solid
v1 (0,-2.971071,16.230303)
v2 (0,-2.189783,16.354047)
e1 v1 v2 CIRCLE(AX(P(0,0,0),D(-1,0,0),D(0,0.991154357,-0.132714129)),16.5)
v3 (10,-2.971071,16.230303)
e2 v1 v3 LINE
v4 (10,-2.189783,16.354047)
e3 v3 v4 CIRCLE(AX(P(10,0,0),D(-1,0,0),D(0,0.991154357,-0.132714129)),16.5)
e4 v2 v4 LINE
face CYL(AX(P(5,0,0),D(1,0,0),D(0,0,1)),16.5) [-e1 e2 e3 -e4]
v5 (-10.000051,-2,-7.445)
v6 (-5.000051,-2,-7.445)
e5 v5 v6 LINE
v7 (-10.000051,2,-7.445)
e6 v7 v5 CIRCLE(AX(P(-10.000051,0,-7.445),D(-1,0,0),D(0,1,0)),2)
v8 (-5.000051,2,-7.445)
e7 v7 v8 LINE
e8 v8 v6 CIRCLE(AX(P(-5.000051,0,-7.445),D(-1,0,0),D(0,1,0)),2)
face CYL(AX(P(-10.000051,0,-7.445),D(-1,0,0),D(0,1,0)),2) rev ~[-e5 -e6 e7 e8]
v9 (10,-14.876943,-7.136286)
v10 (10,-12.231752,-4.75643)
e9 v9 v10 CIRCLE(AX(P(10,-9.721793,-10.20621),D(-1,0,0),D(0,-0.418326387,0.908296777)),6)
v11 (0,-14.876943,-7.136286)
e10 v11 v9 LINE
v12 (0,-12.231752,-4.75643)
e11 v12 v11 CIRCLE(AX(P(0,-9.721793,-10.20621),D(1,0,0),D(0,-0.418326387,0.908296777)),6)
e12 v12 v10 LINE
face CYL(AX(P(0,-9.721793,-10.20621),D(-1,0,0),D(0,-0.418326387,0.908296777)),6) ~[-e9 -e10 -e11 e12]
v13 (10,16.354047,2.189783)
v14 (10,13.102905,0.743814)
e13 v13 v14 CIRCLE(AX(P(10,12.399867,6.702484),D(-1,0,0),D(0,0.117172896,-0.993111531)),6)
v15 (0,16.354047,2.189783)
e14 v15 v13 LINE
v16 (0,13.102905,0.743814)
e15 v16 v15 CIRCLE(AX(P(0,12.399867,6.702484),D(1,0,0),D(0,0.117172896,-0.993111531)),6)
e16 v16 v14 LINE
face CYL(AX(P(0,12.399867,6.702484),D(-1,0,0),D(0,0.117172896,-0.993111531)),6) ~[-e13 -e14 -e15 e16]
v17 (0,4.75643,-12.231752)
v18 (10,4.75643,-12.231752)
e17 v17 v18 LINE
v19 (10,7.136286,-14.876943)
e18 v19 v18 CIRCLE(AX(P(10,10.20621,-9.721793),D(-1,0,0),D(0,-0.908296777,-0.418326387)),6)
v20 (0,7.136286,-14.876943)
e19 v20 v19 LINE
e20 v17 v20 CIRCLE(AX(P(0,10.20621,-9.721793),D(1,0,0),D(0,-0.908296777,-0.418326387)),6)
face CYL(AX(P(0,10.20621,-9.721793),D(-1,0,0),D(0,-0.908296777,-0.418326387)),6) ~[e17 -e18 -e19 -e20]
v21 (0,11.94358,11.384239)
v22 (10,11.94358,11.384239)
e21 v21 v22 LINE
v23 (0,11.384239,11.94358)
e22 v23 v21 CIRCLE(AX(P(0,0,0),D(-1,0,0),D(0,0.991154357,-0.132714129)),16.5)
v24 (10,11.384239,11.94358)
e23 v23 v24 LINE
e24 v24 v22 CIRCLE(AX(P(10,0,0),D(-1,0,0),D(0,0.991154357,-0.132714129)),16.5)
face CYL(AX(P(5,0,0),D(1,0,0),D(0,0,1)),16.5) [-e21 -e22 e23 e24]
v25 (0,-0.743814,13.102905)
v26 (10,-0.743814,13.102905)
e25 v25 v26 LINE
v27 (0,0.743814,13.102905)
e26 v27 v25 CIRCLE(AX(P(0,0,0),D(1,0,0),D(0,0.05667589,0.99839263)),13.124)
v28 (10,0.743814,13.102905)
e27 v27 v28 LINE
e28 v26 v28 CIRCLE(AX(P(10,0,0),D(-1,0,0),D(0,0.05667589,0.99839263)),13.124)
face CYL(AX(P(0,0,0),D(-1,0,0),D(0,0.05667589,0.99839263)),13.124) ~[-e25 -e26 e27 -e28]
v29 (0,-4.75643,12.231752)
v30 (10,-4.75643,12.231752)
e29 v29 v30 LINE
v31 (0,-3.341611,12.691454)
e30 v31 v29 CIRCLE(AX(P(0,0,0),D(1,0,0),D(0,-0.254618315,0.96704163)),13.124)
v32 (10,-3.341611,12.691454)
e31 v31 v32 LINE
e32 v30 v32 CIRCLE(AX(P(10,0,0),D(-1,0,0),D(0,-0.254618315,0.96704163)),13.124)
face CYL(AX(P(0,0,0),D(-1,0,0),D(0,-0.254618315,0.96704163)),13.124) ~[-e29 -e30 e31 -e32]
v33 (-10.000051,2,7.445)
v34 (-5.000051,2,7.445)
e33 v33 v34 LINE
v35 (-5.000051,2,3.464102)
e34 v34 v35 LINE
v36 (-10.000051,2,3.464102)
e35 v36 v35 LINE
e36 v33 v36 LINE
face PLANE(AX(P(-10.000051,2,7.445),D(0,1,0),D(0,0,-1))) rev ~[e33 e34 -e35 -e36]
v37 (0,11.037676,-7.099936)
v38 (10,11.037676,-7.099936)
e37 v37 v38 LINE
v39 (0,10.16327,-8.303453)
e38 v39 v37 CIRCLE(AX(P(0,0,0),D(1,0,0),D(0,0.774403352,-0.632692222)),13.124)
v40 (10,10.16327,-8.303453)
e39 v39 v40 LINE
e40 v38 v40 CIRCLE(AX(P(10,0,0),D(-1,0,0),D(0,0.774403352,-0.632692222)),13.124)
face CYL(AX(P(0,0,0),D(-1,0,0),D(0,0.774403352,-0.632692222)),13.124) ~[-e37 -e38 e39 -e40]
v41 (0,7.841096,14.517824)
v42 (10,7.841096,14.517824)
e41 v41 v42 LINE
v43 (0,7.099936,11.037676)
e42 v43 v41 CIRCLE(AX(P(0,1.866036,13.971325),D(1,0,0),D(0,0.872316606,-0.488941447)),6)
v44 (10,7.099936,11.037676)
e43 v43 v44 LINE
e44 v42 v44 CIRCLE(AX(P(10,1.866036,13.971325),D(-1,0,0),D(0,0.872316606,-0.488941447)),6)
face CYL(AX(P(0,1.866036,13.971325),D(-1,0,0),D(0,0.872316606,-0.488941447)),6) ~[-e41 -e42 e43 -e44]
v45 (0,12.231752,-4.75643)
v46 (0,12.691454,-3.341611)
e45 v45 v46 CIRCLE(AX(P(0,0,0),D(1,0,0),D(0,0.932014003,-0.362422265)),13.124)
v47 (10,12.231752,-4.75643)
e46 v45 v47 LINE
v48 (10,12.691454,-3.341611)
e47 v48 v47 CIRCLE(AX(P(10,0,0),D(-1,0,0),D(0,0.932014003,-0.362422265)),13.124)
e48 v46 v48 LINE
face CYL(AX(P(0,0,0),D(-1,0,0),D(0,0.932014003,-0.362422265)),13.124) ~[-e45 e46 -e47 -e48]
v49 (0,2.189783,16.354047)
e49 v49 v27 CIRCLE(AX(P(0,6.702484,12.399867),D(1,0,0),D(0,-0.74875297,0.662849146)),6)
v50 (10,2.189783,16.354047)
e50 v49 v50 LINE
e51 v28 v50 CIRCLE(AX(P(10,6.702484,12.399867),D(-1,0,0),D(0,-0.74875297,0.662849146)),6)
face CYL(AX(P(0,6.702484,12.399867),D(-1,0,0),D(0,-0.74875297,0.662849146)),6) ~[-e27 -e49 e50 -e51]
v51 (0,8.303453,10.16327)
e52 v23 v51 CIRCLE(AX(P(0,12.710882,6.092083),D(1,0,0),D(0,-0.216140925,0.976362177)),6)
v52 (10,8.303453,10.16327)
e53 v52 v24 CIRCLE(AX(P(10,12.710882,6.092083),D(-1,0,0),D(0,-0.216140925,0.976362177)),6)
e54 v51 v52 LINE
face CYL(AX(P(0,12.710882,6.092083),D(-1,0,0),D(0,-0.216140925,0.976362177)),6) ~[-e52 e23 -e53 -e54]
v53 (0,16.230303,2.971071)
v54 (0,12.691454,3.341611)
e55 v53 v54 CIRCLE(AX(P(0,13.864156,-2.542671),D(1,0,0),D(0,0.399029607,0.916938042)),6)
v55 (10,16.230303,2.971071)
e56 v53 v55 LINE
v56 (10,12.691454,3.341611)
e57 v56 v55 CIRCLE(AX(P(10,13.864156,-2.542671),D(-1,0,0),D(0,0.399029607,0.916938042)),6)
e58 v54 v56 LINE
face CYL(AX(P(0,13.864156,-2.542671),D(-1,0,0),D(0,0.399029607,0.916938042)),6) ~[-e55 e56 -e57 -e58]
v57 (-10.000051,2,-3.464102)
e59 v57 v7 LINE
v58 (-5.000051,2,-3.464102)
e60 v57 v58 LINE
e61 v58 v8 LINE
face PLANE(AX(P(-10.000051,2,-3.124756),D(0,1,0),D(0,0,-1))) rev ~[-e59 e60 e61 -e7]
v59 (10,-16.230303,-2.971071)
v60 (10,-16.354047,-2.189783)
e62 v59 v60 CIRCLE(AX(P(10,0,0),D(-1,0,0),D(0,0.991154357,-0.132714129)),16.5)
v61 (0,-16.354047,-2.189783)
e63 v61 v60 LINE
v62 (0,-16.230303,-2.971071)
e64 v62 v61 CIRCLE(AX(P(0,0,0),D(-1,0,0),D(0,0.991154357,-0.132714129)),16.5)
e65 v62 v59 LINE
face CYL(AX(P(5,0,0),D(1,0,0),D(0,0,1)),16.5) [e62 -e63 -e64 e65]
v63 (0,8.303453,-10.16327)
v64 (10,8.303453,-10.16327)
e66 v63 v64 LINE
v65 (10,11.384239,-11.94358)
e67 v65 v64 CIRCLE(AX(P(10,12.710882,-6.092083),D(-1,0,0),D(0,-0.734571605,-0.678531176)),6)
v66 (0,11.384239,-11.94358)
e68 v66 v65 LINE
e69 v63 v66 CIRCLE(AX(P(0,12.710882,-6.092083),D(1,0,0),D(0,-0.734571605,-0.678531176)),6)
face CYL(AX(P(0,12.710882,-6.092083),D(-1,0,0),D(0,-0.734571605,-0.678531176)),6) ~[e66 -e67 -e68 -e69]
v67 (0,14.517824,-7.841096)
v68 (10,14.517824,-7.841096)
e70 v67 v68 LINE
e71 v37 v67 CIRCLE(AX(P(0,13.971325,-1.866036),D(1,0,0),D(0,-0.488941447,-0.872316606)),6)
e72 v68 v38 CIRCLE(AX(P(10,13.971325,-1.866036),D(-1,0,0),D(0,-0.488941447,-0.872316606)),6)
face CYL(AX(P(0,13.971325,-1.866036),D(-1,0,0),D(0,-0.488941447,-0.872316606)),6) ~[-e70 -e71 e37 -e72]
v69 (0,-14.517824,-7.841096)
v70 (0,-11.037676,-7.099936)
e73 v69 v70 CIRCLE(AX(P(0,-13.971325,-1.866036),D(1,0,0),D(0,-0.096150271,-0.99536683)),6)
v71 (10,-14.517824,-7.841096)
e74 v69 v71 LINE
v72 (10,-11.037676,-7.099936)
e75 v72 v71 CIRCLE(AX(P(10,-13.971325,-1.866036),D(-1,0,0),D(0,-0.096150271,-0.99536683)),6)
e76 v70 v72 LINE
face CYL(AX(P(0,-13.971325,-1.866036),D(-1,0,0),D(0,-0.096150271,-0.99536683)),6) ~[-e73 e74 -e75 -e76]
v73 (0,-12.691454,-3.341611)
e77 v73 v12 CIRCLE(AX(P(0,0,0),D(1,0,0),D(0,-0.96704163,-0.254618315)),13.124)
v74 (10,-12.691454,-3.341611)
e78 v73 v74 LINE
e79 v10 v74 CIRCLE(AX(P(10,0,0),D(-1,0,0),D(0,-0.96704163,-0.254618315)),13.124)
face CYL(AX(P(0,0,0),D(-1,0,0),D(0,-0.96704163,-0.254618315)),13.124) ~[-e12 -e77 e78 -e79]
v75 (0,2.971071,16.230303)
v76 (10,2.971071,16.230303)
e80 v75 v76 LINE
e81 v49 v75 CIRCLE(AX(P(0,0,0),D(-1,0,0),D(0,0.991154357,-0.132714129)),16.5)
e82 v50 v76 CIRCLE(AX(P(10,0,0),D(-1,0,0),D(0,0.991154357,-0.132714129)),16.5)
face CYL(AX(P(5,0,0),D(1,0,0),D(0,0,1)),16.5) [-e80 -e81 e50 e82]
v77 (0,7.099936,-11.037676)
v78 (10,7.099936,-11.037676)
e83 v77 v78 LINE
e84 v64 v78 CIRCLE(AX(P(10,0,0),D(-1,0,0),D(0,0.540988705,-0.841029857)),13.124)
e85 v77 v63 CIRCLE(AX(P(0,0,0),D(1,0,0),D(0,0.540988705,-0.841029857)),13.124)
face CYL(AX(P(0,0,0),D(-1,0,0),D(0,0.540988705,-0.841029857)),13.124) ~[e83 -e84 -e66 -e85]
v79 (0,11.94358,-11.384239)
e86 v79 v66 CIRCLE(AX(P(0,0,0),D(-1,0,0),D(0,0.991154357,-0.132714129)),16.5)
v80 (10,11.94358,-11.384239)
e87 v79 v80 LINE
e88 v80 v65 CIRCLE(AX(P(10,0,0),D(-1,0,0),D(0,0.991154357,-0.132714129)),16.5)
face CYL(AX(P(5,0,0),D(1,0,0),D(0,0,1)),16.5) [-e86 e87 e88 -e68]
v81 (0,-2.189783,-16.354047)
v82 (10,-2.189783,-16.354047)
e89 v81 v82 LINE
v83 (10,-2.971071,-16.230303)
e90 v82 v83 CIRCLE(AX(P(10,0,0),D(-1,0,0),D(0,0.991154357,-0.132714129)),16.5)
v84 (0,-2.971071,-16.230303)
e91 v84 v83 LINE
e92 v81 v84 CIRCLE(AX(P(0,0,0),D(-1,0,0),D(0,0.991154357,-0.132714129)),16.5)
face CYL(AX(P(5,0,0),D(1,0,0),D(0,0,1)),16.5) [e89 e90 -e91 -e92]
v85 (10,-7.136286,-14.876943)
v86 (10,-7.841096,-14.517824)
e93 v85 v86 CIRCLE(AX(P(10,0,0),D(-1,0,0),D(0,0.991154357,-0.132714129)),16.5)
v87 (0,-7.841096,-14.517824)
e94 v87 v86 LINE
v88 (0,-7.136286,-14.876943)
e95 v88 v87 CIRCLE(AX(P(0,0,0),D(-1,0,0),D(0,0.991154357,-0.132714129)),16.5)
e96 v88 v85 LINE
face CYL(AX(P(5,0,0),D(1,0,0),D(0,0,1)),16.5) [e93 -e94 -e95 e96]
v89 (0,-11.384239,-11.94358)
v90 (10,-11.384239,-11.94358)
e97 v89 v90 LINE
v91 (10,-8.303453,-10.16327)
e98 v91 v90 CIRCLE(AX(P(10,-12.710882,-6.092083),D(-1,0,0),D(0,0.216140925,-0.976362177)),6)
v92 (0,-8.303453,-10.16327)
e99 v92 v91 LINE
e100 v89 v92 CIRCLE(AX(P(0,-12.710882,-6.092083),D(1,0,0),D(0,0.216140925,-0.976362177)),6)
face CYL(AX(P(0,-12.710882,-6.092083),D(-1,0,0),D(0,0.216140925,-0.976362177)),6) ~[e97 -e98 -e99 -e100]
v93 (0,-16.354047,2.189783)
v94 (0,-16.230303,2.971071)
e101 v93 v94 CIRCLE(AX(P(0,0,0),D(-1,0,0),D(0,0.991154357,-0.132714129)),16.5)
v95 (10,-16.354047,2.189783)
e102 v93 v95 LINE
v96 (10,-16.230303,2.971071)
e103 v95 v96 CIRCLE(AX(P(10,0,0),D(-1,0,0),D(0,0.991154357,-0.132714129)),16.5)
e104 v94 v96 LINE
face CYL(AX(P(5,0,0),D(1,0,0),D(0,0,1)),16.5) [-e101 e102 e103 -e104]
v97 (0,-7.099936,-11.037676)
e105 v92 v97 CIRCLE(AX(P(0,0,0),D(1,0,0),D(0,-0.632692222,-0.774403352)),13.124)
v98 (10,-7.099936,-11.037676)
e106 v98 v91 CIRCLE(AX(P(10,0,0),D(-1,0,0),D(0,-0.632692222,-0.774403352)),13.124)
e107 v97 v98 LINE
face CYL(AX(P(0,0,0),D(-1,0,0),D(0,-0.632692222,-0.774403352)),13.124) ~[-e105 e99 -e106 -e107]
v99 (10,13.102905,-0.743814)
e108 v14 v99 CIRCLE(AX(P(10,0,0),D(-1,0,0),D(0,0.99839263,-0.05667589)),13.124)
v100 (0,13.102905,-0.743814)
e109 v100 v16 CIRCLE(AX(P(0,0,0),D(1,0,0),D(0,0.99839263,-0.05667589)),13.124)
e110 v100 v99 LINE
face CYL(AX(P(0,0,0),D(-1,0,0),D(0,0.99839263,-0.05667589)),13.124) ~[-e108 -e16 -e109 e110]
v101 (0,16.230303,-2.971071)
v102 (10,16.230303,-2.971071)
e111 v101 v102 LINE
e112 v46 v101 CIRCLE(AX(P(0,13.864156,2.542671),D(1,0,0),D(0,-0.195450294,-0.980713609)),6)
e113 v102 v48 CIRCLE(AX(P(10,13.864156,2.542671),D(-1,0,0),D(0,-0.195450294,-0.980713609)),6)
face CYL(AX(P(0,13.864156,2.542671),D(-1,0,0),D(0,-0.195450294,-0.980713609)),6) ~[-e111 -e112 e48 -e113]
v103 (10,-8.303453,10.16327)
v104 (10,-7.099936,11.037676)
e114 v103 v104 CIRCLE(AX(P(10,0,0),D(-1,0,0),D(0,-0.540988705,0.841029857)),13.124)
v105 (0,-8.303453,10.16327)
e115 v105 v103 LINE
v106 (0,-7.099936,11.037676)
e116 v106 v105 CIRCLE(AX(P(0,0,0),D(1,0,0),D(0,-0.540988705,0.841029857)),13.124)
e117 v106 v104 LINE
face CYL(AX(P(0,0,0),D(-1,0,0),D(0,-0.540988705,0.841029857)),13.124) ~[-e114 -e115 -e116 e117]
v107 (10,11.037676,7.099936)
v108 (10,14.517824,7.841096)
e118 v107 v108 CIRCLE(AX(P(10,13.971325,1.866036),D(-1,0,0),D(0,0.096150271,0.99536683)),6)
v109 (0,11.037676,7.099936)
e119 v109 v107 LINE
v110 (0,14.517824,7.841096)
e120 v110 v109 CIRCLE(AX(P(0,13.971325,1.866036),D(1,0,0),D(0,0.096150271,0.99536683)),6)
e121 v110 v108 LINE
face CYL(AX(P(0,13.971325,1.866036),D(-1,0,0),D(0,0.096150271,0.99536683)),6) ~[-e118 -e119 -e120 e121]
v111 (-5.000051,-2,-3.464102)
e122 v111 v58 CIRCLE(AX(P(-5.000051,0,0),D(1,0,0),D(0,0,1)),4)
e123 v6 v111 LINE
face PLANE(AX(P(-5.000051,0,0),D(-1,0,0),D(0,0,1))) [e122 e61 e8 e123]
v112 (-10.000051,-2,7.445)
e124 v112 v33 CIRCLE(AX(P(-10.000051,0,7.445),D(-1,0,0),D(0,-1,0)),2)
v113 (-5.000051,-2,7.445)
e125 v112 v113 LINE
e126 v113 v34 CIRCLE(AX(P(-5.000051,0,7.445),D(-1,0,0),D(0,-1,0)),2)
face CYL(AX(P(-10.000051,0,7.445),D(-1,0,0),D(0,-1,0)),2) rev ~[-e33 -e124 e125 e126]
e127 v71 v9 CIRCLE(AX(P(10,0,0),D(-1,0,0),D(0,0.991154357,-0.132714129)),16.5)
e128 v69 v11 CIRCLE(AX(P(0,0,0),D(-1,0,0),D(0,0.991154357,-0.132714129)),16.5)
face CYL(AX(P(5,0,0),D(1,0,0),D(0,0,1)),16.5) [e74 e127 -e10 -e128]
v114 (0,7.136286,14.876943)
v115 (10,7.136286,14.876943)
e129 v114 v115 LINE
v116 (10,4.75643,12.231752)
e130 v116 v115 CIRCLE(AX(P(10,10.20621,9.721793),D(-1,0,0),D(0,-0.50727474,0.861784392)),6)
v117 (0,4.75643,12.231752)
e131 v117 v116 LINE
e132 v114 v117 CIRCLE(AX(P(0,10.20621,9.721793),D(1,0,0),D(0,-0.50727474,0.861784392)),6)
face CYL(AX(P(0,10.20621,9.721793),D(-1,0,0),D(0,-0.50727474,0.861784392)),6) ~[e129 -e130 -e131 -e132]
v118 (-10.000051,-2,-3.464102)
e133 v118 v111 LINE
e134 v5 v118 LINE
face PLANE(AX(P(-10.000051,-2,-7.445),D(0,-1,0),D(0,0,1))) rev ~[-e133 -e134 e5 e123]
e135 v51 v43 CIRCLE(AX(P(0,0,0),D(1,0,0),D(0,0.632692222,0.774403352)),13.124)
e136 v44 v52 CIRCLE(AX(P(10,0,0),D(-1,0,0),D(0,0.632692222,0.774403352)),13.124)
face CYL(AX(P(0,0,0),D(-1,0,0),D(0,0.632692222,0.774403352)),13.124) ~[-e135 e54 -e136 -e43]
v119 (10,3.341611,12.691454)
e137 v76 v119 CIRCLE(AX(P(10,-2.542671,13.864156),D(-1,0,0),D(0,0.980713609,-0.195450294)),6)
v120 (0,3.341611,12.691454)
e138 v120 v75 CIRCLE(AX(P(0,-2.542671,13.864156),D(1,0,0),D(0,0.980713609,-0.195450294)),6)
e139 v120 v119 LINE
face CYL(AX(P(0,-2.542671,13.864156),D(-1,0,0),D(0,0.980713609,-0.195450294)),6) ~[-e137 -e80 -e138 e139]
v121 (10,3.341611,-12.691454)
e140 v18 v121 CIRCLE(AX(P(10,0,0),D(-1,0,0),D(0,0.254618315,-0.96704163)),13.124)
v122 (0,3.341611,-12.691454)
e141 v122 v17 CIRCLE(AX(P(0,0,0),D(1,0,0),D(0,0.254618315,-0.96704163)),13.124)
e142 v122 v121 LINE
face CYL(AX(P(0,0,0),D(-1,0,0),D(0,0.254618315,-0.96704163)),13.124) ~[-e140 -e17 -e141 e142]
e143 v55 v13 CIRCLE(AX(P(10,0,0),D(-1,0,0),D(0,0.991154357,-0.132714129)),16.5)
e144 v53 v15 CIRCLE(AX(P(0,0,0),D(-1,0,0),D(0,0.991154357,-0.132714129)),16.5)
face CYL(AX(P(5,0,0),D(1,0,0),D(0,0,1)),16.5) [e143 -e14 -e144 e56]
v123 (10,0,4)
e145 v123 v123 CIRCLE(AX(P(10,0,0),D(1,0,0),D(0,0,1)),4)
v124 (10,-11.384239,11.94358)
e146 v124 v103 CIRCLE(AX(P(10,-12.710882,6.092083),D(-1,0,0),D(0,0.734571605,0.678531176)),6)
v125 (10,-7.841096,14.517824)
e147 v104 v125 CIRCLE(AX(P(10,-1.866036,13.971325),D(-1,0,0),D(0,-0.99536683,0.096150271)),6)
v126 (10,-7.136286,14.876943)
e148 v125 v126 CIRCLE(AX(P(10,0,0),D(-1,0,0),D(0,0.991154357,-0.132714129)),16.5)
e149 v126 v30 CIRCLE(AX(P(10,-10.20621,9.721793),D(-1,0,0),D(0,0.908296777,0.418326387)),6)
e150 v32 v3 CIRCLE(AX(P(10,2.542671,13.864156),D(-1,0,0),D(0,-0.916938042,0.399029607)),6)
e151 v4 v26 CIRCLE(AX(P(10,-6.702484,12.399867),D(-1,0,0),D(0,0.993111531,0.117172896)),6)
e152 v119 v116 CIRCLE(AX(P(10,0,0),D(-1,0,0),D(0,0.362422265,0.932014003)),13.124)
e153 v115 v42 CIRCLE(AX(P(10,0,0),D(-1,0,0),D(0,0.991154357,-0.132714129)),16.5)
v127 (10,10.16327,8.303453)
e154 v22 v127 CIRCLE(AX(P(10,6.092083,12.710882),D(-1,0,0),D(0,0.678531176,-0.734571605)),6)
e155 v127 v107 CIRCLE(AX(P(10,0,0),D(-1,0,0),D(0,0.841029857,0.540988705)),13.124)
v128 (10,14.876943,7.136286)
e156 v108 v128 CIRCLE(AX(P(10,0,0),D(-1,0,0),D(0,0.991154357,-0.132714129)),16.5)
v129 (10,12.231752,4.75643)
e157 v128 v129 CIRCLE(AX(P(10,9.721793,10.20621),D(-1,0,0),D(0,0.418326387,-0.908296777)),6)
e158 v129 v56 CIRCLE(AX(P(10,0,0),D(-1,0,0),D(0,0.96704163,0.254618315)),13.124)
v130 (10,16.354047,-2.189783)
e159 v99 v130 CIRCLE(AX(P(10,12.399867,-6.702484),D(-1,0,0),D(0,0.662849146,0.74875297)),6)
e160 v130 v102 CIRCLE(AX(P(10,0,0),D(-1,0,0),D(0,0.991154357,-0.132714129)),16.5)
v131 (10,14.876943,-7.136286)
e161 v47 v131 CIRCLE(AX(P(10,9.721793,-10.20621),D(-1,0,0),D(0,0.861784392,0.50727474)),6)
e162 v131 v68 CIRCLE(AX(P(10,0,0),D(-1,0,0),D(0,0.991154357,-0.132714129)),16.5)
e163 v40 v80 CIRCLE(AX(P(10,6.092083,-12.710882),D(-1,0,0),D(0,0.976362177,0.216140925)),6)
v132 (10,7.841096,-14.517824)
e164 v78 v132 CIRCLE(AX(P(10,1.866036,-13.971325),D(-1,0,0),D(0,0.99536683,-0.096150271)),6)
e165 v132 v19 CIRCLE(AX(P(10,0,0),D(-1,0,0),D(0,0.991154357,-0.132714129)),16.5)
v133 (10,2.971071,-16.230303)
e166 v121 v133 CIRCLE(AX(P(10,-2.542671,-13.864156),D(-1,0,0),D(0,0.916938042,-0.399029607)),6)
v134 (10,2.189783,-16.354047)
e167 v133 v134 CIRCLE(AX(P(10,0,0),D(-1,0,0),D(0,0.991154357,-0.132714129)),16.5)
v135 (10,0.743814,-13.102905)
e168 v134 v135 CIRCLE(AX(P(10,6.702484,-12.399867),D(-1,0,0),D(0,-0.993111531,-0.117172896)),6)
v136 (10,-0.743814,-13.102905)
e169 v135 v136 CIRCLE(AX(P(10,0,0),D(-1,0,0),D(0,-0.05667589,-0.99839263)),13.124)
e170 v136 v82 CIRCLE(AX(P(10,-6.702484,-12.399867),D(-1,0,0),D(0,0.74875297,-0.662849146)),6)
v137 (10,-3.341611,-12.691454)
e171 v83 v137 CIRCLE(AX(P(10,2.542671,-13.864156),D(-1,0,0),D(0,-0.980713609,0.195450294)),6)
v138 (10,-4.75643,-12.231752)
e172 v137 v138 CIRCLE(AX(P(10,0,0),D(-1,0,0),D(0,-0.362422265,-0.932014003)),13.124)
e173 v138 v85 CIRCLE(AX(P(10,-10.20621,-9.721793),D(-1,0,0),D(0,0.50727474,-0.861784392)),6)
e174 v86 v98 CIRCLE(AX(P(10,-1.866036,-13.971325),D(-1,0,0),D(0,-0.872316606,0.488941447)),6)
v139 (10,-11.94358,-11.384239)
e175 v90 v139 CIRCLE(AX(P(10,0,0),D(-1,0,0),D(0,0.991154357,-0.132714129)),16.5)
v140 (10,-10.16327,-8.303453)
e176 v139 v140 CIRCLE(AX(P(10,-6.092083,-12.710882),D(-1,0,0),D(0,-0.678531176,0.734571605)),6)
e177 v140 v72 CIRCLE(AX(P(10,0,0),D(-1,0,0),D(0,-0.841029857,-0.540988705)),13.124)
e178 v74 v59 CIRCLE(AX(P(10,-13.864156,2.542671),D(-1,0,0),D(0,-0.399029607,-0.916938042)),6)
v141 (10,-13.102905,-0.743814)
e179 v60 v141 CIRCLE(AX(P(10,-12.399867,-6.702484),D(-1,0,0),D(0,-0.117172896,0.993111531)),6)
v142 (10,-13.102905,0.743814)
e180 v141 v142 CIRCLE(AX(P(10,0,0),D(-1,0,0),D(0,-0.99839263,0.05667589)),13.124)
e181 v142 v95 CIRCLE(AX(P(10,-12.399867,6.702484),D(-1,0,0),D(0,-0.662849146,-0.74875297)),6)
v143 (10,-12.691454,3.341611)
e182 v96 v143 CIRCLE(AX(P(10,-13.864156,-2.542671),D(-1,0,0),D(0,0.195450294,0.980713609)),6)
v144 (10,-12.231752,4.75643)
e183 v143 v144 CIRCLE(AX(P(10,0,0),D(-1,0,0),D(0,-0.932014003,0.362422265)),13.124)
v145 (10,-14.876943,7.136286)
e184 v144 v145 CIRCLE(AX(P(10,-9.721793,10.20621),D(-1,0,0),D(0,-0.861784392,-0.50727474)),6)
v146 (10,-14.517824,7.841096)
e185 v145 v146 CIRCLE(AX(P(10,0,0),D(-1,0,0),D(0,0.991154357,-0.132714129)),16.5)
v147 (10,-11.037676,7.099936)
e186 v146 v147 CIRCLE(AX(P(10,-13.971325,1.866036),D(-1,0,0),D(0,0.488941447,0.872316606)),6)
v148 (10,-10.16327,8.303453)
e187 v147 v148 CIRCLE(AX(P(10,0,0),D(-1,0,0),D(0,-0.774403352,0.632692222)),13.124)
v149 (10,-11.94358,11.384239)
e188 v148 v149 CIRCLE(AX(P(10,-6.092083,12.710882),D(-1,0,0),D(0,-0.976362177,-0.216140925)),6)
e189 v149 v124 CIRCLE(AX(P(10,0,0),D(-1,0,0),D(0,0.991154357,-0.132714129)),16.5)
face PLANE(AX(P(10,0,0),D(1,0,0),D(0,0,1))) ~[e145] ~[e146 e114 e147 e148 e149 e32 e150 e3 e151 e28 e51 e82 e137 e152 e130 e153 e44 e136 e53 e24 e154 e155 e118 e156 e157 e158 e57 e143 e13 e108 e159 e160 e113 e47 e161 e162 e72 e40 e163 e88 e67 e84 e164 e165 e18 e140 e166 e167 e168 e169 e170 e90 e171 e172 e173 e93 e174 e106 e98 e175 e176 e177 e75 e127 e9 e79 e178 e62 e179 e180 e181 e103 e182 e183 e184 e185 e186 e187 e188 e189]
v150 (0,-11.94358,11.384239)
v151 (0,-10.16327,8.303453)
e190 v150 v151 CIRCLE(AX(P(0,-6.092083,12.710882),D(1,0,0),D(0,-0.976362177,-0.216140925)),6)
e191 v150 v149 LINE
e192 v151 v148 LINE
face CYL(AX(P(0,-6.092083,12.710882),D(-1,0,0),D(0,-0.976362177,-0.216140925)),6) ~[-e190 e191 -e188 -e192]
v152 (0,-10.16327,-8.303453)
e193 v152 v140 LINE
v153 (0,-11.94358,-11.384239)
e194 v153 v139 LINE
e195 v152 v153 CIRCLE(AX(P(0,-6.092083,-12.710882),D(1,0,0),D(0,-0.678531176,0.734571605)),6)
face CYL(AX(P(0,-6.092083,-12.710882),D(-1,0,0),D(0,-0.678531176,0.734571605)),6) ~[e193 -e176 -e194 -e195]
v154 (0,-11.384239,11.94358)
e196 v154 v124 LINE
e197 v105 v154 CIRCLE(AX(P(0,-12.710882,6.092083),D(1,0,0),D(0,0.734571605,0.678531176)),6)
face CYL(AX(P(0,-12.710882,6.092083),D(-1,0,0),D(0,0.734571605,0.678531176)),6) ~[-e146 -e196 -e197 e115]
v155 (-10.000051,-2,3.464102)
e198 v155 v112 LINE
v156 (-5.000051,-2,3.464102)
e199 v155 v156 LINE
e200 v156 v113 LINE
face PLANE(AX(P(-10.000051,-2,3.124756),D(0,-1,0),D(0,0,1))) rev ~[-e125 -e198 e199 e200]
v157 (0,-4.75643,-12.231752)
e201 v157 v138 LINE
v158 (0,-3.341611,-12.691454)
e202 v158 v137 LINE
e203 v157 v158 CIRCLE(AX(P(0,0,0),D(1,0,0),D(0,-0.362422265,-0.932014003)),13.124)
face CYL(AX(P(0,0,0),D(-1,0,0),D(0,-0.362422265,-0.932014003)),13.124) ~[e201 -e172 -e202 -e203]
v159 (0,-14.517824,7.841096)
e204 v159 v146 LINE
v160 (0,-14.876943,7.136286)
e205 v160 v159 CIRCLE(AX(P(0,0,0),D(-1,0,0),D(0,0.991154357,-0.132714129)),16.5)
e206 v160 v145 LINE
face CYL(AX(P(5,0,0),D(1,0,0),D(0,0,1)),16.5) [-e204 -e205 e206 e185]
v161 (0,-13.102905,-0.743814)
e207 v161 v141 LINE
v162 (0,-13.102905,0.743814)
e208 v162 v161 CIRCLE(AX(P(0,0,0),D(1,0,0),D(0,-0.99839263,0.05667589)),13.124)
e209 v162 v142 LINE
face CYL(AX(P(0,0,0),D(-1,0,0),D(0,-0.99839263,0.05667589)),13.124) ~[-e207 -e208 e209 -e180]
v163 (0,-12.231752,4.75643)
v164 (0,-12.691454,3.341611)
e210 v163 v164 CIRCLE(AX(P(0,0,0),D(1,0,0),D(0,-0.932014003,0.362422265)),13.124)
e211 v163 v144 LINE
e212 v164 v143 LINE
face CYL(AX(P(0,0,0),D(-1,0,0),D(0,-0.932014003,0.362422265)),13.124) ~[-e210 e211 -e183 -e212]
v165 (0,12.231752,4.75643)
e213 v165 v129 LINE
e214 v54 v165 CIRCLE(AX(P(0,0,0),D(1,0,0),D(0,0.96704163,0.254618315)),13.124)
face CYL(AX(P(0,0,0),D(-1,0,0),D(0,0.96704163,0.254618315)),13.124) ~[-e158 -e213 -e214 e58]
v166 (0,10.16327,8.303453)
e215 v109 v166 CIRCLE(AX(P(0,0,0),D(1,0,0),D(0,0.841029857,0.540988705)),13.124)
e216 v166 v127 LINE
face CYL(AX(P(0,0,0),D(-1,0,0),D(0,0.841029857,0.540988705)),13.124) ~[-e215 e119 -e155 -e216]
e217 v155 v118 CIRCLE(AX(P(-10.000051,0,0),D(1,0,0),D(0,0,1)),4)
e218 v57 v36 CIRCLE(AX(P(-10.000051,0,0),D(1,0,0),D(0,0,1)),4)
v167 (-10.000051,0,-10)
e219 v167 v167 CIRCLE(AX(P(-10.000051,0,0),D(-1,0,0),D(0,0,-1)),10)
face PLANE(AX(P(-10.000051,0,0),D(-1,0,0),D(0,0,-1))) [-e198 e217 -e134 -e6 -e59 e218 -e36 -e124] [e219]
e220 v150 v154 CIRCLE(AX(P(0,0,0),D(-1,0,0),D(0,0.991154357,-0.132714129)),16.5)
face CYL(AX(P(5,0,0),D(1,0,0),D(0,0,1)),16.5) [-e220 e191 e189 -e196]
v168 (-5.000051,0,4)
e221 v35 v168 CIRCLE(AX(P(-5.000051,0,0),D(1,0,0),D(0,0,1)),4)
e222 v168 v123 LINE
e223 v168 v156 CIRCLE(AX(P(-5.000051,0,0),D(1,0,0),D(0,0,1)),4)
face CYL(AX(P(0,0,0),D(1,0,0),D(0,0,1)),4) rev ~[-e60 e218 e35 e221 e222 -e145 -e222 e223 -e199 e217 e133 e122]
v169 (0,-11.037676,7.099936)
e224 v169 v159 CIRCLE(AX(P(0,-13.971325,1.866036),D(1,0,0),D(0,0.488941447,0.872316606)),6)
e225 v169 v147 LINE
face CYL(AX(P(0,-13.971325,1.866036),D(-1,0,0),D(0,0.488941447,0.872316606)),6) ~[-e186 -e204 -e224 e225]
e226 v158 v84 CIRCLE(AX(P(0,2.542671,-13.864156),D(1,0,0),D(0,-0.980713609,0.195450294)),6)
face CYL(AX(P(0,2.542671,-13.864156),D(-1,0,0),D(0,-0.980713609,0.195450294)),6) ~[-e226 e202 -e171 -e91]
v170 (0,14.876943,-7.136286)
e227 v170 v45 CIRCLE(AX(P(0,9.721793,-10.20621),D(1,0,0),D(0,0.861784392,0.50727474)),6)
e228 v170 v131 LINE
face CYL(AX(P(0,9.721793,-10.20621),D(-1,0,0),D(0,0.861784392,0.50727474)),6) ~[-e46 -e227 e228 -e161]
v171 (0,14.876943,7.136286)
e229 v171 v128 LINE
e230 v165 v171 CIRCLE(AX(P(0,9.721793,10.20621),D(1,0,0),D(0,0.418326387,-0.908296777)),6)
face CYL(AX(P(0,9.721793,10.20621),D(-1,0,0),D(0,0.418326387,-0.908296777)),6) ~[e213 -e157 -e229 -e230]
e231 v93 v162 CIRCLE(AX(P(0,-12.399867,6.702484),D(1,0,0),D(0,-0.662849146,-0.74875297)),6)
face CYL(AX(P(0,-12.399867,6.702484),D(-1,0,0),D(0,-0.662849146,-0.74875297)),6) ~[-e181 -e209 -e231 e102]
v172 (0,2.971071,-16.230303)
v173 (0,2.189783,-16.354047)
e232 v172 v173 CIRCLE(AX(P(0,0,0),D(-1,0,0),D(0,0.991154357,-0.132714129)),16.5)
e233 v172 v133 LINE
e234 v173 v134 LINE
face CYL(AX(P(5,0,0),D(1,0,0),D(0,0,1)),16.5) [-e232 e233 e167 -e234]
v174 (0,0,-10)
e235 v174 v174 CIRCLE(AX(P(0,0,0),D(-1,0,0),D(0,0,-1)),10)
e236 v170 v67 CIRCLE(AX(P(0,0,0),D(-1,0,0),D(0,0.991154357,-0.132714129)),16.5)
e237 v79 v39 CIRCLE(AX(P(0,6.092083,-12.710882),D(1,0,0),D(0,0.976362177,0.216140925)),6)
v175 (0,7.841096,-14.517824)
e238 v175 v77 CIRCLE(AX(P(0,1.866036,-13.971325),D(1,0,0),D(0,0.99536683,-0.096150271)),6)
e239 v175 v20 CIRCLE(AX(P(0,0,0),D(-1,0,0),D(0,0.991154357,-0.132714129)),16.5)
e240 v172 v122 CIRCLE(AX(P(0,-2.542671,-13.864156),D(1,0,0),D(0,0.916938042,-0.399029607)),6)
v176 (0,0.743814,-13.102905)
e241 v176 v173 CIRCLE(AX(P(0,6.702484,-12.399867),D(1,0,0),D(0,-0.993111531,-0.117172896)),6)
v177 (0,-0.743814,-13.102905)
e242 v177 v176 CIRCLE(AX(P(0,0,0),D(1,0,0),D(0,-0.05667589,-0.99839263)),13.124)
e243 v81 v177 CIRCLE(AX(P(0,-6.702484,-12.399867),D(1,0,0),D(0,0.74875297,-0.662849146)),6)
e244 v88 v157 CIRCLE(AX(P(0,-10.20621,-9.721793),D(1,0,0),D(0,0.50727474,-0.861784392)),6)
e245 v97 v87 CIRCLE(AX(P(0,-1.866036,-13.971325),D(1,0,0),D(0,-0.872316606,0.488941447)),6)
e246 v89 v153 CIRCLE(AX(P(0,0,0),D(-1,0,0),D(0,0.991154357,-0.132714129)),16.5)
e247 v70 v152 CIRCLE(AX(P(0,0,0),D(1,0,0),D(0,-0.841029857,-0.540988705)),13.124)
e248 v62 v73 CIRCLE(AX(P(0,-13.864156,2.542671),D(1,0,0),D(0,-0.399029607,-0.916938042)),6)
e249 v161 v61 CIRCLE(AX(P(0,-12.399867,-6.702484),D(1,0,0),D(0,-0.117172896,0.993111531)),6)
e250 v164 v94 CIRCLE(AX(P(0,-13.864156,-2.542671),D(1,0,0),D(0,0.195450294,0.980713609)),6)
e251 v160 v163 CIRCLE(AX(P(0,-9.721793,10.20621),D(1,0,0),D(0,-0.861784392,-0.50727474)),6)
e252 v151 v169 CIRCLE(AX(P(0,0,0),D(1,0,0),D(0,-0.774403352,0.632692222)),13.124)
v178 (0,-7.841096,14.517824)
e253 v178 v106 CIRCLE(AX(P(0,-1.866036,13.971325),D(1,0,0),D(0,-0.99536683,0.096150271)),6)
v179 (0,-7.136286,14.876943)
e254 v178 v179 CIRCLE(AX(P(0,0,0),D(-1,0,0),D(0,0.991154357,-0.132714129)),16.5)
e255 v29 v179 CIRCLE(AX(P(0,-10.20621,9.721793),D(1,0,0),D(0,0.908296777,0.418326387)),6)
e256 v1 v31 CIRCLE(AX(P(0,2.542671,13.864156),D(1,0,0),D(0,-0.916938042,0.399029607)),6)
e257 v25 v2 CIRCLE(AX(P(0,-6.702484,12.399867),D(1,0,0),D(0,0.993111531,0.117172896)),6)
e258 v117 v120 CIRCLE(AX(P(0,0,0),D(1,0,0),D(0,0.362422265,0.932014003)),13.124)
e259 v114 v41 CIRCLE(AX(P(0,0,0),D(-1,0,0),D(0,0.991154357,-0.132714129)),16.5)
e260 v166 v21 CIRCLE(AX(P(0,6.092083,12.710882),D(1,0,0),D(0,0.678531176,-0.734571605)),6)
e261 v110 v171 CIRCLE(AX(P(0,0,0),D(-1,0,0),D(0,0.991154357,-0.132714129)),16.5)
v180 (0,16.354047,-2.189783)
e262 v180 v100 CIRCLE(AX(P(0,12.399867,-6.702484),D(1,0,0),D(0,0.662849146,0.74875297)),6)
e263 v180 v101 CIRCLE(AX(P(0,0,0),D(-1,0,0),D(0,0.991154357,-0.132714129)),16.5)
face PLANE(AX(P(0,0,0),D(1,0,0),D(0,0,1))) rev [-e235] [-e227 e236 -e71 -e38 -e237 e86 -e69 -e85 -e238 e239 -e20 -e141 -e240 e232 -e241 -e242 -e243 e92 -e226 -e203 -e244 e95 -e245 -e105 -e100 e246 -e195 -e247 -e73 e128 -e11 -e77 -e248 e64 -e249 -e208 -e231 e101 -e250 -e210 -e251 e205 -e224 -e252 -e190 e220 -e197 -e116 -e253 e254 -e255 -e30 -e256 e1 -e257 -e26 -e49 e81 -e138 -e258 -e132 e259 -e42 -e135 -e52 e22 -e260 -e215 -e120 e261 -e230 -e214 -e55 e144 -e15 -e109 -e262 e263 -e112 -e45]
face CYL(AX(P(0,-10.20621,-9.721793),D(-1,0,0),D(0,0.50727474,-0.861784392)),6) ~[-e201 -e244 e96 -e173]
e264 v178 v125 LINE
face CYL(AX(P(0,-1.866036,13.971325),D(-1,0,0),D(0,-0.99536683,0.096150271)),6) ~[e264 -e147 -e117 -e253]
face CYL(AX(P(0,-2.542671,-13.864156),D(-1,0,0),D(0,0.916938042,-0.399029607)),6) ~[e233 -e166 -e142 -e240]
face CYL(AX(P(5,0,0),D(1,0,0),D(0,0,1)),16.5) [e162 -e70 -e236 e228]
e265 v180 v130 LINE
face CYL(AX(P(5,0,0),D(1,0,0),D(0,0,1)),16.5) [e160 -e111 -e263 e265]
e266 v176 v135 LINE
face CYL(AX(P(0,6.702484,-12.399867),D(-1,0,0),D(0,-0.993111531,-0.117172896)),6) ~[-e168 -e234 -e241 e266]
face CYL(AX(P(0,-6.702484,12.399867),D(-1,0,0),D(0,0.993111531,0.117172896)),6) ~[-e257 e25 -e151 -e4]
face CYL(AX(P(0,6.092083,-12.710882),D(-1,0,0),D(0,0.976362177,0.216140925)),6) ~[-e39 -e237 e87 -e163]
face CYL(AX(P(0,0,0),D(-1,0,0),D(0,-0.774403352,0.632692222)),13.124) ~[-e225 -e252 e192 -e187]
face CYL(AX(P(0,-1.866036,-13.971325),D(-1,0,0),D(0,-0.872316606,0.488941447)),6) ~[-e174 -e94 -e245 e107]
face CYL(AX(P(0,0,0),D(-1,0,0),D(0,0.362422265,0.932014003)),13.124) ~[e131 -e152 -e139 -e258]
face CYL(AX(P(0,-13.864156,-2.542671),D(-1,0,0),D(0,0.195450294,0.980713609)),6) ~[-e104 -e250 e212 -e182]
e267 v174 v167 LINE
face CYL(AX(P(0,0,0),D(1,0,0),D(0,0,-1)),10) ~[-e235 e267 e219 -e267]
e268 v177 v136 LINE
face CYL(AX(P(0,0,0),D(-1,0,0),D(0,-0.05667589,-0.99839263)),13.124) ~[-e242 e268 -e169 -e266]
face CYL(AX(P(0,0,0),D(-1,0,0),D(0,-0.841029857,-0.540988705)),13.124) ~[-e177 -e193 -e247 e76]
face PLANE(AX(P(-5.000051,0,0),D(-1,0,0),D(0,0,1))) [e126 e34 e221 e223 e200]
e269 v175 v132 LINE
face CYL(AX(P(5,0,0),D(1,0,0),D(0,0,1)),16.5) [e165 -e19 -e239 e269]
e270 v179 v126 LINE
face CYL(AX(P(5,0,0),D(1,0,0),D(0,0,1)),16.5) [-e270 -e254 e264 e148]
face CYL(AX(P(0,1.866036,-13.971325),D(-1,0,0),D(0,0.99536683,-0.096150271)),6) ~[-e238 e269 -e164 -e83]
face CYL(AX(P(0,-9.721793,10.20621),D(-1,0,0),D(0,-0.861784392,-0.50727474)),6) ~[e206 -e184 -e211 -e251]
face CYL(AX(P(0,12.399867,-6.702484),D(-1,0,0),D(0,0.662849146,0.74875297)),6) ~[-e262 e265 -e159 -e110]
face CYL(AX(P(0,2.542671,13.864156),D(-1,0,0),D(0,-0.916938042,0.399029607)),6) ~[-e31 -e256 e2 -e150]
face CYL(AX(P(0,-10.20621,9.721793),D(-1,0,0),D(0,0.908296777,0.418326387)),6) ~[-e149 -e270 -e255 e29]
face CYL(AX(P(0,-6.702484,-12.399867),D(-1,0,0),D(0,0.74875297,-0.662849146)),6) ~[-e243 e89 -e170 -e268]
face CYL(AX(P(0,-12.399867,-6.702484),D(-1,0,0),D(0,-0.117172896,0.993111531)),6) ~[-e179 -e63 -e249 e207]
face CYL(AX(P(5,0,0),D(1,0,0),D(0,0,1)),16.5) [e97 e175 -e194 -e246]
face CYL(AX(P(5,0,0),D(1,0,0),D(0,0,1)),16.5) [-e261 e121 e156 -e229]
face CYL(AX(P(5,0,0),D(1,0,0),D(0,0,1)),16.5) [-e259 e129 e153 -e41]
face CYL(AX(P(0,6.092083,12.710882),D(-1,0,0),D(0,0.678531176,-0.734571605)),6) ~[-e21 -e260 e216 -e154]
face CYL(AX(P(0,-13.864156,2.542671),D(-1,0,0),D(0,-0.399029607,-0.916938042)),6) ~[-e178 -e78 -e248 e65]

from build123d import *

# Parameters (mm, degrees)
BASPROSKE_W        = 10
BASPROSKE_H        = 16.5
TOOTHCUT_DEPTH     = 26.38700455
TEETHCUTS_COUNT    = 20
TEETHCUTS_ANGLE    = 342
HUBNEAONESKE_R     = 10
HUBNEARONE_DEPTH   = 10.0000508
BORSKE_R           = 4
BORE_DEPTH         = 20.0000508
CUT_EXTRUDE1_DEPTH = 5


with BuildPart() as part:
    # BasProSke → Base-Revolve (revolve)
    with BuildSketch(Plane(origin=(0, 0, 0), x_dir=(1, 0, 0), z_dir=(0, 1, 0)), mode=Mode.PRIVATE) as base_revolve_sk:
        with Locations((5, 8.25)):
            Rectangle(BASPROSKE_W, BASPROSKE_H)
    revolve(base_revolve_sk.sketch.rotate(Axis((-10, 0, 0), (1, 0, 0)), 180), axis=Axis((-10, 0, 0), (1, 0, 0)))

    # TooCutSke → ToothCut (cut, through all)
    with BuildSketch(Plane(origin=(0, 0, 0), x_dir=(0, 0, -1), z_dir=(1, 0, 0))):
        with BuildLine():
            ThreePointArc((0.74381438, 13.102904875), (0, 13.124), (-0.74381438, 13.102904875))
            ThreePointArc((-0.74381438, 13.102904875), (-1.226473103, 14.852072512), (-2.209965745, 16.376962373))
            ThreePointArc((-2.209965745, 16.376962373), (0, 16.5254), (2.209965745, 16.376962373))
            ThreePointArc((2.209965745, 16.376962373), (1.226473103, 14.852072512), (0.74381438, 13.102904875))
        make_face()
    toothcut = extrude(amount=TOOTHCUT_DEPTH, mode=Mode.SUBTRACT)

    # TeethCuts: ToothCut ×20 about axis
    teethcuts_axis = Axis((-10, 0, 0), (1, 0, 0))
    for i in range(1, TEETHCUTS_COUNT):
        add(toothcut.rotate(teethcuts_axis, i * TEETHCUTS_ANGLE / (TEETHCUTS_COUNT - 1)), mode=Mode.SUBTRACT)

    # HubNeaOneSke → HubNearOne (add)
    with BuildSketch(Plane.ZY):
        with Locations(Location((0, 0, 0), (0, 0, 180))):
            Circle(HUBNEAONESKE_R)
    extrude(amount=HUBNEARONE_DEPTH)

    # BorSke → Bore (cut, symmetric)
    with BuildSketch(Plane(origin=(0, 0, 0), x_dir=(0, 0, -1), z_dir=(1, 0, 0))):
        with Locations(Location((0, 0, 0), (0, 0, 180))):
            Circle(BORSKE_R)
    extrude(amount=BORE_DEPTH, both=True, mode=Mode.SUBTRACT)

    # Sketch2 → Cut-Extrude1 (cut)
    with BuildSketch(Plane.ZY.offset(10.0000508)):
        with BuildLine():
            Line((3.12475599, -2), (7.445, -2))
            ThreePointArc((7.445, -2), (9.445, 0), (7.445, 2))
            Line((7.445, 2), (3.12475599, 2))
            ThreePointArc((3.12475599, 2), (0, 3.71), (-3.12475599, 2))
            Line((-3.12475599, 2), (-7.445, 2))
            ThreePointArc((-7.445, 2), (-9.445, 0), (-7.445, -2))
            Line((-7.445, -2), (-3.12475599, -2))
            ThreePointArc((-3.12475599, -2), (0, -3.71), (3.12475599, -2))
        make_face()
    extrude(amount=-CUT_EXTRUDE1_DEPTH, mode=Mode.SUBTRACT)


solid = part.part
